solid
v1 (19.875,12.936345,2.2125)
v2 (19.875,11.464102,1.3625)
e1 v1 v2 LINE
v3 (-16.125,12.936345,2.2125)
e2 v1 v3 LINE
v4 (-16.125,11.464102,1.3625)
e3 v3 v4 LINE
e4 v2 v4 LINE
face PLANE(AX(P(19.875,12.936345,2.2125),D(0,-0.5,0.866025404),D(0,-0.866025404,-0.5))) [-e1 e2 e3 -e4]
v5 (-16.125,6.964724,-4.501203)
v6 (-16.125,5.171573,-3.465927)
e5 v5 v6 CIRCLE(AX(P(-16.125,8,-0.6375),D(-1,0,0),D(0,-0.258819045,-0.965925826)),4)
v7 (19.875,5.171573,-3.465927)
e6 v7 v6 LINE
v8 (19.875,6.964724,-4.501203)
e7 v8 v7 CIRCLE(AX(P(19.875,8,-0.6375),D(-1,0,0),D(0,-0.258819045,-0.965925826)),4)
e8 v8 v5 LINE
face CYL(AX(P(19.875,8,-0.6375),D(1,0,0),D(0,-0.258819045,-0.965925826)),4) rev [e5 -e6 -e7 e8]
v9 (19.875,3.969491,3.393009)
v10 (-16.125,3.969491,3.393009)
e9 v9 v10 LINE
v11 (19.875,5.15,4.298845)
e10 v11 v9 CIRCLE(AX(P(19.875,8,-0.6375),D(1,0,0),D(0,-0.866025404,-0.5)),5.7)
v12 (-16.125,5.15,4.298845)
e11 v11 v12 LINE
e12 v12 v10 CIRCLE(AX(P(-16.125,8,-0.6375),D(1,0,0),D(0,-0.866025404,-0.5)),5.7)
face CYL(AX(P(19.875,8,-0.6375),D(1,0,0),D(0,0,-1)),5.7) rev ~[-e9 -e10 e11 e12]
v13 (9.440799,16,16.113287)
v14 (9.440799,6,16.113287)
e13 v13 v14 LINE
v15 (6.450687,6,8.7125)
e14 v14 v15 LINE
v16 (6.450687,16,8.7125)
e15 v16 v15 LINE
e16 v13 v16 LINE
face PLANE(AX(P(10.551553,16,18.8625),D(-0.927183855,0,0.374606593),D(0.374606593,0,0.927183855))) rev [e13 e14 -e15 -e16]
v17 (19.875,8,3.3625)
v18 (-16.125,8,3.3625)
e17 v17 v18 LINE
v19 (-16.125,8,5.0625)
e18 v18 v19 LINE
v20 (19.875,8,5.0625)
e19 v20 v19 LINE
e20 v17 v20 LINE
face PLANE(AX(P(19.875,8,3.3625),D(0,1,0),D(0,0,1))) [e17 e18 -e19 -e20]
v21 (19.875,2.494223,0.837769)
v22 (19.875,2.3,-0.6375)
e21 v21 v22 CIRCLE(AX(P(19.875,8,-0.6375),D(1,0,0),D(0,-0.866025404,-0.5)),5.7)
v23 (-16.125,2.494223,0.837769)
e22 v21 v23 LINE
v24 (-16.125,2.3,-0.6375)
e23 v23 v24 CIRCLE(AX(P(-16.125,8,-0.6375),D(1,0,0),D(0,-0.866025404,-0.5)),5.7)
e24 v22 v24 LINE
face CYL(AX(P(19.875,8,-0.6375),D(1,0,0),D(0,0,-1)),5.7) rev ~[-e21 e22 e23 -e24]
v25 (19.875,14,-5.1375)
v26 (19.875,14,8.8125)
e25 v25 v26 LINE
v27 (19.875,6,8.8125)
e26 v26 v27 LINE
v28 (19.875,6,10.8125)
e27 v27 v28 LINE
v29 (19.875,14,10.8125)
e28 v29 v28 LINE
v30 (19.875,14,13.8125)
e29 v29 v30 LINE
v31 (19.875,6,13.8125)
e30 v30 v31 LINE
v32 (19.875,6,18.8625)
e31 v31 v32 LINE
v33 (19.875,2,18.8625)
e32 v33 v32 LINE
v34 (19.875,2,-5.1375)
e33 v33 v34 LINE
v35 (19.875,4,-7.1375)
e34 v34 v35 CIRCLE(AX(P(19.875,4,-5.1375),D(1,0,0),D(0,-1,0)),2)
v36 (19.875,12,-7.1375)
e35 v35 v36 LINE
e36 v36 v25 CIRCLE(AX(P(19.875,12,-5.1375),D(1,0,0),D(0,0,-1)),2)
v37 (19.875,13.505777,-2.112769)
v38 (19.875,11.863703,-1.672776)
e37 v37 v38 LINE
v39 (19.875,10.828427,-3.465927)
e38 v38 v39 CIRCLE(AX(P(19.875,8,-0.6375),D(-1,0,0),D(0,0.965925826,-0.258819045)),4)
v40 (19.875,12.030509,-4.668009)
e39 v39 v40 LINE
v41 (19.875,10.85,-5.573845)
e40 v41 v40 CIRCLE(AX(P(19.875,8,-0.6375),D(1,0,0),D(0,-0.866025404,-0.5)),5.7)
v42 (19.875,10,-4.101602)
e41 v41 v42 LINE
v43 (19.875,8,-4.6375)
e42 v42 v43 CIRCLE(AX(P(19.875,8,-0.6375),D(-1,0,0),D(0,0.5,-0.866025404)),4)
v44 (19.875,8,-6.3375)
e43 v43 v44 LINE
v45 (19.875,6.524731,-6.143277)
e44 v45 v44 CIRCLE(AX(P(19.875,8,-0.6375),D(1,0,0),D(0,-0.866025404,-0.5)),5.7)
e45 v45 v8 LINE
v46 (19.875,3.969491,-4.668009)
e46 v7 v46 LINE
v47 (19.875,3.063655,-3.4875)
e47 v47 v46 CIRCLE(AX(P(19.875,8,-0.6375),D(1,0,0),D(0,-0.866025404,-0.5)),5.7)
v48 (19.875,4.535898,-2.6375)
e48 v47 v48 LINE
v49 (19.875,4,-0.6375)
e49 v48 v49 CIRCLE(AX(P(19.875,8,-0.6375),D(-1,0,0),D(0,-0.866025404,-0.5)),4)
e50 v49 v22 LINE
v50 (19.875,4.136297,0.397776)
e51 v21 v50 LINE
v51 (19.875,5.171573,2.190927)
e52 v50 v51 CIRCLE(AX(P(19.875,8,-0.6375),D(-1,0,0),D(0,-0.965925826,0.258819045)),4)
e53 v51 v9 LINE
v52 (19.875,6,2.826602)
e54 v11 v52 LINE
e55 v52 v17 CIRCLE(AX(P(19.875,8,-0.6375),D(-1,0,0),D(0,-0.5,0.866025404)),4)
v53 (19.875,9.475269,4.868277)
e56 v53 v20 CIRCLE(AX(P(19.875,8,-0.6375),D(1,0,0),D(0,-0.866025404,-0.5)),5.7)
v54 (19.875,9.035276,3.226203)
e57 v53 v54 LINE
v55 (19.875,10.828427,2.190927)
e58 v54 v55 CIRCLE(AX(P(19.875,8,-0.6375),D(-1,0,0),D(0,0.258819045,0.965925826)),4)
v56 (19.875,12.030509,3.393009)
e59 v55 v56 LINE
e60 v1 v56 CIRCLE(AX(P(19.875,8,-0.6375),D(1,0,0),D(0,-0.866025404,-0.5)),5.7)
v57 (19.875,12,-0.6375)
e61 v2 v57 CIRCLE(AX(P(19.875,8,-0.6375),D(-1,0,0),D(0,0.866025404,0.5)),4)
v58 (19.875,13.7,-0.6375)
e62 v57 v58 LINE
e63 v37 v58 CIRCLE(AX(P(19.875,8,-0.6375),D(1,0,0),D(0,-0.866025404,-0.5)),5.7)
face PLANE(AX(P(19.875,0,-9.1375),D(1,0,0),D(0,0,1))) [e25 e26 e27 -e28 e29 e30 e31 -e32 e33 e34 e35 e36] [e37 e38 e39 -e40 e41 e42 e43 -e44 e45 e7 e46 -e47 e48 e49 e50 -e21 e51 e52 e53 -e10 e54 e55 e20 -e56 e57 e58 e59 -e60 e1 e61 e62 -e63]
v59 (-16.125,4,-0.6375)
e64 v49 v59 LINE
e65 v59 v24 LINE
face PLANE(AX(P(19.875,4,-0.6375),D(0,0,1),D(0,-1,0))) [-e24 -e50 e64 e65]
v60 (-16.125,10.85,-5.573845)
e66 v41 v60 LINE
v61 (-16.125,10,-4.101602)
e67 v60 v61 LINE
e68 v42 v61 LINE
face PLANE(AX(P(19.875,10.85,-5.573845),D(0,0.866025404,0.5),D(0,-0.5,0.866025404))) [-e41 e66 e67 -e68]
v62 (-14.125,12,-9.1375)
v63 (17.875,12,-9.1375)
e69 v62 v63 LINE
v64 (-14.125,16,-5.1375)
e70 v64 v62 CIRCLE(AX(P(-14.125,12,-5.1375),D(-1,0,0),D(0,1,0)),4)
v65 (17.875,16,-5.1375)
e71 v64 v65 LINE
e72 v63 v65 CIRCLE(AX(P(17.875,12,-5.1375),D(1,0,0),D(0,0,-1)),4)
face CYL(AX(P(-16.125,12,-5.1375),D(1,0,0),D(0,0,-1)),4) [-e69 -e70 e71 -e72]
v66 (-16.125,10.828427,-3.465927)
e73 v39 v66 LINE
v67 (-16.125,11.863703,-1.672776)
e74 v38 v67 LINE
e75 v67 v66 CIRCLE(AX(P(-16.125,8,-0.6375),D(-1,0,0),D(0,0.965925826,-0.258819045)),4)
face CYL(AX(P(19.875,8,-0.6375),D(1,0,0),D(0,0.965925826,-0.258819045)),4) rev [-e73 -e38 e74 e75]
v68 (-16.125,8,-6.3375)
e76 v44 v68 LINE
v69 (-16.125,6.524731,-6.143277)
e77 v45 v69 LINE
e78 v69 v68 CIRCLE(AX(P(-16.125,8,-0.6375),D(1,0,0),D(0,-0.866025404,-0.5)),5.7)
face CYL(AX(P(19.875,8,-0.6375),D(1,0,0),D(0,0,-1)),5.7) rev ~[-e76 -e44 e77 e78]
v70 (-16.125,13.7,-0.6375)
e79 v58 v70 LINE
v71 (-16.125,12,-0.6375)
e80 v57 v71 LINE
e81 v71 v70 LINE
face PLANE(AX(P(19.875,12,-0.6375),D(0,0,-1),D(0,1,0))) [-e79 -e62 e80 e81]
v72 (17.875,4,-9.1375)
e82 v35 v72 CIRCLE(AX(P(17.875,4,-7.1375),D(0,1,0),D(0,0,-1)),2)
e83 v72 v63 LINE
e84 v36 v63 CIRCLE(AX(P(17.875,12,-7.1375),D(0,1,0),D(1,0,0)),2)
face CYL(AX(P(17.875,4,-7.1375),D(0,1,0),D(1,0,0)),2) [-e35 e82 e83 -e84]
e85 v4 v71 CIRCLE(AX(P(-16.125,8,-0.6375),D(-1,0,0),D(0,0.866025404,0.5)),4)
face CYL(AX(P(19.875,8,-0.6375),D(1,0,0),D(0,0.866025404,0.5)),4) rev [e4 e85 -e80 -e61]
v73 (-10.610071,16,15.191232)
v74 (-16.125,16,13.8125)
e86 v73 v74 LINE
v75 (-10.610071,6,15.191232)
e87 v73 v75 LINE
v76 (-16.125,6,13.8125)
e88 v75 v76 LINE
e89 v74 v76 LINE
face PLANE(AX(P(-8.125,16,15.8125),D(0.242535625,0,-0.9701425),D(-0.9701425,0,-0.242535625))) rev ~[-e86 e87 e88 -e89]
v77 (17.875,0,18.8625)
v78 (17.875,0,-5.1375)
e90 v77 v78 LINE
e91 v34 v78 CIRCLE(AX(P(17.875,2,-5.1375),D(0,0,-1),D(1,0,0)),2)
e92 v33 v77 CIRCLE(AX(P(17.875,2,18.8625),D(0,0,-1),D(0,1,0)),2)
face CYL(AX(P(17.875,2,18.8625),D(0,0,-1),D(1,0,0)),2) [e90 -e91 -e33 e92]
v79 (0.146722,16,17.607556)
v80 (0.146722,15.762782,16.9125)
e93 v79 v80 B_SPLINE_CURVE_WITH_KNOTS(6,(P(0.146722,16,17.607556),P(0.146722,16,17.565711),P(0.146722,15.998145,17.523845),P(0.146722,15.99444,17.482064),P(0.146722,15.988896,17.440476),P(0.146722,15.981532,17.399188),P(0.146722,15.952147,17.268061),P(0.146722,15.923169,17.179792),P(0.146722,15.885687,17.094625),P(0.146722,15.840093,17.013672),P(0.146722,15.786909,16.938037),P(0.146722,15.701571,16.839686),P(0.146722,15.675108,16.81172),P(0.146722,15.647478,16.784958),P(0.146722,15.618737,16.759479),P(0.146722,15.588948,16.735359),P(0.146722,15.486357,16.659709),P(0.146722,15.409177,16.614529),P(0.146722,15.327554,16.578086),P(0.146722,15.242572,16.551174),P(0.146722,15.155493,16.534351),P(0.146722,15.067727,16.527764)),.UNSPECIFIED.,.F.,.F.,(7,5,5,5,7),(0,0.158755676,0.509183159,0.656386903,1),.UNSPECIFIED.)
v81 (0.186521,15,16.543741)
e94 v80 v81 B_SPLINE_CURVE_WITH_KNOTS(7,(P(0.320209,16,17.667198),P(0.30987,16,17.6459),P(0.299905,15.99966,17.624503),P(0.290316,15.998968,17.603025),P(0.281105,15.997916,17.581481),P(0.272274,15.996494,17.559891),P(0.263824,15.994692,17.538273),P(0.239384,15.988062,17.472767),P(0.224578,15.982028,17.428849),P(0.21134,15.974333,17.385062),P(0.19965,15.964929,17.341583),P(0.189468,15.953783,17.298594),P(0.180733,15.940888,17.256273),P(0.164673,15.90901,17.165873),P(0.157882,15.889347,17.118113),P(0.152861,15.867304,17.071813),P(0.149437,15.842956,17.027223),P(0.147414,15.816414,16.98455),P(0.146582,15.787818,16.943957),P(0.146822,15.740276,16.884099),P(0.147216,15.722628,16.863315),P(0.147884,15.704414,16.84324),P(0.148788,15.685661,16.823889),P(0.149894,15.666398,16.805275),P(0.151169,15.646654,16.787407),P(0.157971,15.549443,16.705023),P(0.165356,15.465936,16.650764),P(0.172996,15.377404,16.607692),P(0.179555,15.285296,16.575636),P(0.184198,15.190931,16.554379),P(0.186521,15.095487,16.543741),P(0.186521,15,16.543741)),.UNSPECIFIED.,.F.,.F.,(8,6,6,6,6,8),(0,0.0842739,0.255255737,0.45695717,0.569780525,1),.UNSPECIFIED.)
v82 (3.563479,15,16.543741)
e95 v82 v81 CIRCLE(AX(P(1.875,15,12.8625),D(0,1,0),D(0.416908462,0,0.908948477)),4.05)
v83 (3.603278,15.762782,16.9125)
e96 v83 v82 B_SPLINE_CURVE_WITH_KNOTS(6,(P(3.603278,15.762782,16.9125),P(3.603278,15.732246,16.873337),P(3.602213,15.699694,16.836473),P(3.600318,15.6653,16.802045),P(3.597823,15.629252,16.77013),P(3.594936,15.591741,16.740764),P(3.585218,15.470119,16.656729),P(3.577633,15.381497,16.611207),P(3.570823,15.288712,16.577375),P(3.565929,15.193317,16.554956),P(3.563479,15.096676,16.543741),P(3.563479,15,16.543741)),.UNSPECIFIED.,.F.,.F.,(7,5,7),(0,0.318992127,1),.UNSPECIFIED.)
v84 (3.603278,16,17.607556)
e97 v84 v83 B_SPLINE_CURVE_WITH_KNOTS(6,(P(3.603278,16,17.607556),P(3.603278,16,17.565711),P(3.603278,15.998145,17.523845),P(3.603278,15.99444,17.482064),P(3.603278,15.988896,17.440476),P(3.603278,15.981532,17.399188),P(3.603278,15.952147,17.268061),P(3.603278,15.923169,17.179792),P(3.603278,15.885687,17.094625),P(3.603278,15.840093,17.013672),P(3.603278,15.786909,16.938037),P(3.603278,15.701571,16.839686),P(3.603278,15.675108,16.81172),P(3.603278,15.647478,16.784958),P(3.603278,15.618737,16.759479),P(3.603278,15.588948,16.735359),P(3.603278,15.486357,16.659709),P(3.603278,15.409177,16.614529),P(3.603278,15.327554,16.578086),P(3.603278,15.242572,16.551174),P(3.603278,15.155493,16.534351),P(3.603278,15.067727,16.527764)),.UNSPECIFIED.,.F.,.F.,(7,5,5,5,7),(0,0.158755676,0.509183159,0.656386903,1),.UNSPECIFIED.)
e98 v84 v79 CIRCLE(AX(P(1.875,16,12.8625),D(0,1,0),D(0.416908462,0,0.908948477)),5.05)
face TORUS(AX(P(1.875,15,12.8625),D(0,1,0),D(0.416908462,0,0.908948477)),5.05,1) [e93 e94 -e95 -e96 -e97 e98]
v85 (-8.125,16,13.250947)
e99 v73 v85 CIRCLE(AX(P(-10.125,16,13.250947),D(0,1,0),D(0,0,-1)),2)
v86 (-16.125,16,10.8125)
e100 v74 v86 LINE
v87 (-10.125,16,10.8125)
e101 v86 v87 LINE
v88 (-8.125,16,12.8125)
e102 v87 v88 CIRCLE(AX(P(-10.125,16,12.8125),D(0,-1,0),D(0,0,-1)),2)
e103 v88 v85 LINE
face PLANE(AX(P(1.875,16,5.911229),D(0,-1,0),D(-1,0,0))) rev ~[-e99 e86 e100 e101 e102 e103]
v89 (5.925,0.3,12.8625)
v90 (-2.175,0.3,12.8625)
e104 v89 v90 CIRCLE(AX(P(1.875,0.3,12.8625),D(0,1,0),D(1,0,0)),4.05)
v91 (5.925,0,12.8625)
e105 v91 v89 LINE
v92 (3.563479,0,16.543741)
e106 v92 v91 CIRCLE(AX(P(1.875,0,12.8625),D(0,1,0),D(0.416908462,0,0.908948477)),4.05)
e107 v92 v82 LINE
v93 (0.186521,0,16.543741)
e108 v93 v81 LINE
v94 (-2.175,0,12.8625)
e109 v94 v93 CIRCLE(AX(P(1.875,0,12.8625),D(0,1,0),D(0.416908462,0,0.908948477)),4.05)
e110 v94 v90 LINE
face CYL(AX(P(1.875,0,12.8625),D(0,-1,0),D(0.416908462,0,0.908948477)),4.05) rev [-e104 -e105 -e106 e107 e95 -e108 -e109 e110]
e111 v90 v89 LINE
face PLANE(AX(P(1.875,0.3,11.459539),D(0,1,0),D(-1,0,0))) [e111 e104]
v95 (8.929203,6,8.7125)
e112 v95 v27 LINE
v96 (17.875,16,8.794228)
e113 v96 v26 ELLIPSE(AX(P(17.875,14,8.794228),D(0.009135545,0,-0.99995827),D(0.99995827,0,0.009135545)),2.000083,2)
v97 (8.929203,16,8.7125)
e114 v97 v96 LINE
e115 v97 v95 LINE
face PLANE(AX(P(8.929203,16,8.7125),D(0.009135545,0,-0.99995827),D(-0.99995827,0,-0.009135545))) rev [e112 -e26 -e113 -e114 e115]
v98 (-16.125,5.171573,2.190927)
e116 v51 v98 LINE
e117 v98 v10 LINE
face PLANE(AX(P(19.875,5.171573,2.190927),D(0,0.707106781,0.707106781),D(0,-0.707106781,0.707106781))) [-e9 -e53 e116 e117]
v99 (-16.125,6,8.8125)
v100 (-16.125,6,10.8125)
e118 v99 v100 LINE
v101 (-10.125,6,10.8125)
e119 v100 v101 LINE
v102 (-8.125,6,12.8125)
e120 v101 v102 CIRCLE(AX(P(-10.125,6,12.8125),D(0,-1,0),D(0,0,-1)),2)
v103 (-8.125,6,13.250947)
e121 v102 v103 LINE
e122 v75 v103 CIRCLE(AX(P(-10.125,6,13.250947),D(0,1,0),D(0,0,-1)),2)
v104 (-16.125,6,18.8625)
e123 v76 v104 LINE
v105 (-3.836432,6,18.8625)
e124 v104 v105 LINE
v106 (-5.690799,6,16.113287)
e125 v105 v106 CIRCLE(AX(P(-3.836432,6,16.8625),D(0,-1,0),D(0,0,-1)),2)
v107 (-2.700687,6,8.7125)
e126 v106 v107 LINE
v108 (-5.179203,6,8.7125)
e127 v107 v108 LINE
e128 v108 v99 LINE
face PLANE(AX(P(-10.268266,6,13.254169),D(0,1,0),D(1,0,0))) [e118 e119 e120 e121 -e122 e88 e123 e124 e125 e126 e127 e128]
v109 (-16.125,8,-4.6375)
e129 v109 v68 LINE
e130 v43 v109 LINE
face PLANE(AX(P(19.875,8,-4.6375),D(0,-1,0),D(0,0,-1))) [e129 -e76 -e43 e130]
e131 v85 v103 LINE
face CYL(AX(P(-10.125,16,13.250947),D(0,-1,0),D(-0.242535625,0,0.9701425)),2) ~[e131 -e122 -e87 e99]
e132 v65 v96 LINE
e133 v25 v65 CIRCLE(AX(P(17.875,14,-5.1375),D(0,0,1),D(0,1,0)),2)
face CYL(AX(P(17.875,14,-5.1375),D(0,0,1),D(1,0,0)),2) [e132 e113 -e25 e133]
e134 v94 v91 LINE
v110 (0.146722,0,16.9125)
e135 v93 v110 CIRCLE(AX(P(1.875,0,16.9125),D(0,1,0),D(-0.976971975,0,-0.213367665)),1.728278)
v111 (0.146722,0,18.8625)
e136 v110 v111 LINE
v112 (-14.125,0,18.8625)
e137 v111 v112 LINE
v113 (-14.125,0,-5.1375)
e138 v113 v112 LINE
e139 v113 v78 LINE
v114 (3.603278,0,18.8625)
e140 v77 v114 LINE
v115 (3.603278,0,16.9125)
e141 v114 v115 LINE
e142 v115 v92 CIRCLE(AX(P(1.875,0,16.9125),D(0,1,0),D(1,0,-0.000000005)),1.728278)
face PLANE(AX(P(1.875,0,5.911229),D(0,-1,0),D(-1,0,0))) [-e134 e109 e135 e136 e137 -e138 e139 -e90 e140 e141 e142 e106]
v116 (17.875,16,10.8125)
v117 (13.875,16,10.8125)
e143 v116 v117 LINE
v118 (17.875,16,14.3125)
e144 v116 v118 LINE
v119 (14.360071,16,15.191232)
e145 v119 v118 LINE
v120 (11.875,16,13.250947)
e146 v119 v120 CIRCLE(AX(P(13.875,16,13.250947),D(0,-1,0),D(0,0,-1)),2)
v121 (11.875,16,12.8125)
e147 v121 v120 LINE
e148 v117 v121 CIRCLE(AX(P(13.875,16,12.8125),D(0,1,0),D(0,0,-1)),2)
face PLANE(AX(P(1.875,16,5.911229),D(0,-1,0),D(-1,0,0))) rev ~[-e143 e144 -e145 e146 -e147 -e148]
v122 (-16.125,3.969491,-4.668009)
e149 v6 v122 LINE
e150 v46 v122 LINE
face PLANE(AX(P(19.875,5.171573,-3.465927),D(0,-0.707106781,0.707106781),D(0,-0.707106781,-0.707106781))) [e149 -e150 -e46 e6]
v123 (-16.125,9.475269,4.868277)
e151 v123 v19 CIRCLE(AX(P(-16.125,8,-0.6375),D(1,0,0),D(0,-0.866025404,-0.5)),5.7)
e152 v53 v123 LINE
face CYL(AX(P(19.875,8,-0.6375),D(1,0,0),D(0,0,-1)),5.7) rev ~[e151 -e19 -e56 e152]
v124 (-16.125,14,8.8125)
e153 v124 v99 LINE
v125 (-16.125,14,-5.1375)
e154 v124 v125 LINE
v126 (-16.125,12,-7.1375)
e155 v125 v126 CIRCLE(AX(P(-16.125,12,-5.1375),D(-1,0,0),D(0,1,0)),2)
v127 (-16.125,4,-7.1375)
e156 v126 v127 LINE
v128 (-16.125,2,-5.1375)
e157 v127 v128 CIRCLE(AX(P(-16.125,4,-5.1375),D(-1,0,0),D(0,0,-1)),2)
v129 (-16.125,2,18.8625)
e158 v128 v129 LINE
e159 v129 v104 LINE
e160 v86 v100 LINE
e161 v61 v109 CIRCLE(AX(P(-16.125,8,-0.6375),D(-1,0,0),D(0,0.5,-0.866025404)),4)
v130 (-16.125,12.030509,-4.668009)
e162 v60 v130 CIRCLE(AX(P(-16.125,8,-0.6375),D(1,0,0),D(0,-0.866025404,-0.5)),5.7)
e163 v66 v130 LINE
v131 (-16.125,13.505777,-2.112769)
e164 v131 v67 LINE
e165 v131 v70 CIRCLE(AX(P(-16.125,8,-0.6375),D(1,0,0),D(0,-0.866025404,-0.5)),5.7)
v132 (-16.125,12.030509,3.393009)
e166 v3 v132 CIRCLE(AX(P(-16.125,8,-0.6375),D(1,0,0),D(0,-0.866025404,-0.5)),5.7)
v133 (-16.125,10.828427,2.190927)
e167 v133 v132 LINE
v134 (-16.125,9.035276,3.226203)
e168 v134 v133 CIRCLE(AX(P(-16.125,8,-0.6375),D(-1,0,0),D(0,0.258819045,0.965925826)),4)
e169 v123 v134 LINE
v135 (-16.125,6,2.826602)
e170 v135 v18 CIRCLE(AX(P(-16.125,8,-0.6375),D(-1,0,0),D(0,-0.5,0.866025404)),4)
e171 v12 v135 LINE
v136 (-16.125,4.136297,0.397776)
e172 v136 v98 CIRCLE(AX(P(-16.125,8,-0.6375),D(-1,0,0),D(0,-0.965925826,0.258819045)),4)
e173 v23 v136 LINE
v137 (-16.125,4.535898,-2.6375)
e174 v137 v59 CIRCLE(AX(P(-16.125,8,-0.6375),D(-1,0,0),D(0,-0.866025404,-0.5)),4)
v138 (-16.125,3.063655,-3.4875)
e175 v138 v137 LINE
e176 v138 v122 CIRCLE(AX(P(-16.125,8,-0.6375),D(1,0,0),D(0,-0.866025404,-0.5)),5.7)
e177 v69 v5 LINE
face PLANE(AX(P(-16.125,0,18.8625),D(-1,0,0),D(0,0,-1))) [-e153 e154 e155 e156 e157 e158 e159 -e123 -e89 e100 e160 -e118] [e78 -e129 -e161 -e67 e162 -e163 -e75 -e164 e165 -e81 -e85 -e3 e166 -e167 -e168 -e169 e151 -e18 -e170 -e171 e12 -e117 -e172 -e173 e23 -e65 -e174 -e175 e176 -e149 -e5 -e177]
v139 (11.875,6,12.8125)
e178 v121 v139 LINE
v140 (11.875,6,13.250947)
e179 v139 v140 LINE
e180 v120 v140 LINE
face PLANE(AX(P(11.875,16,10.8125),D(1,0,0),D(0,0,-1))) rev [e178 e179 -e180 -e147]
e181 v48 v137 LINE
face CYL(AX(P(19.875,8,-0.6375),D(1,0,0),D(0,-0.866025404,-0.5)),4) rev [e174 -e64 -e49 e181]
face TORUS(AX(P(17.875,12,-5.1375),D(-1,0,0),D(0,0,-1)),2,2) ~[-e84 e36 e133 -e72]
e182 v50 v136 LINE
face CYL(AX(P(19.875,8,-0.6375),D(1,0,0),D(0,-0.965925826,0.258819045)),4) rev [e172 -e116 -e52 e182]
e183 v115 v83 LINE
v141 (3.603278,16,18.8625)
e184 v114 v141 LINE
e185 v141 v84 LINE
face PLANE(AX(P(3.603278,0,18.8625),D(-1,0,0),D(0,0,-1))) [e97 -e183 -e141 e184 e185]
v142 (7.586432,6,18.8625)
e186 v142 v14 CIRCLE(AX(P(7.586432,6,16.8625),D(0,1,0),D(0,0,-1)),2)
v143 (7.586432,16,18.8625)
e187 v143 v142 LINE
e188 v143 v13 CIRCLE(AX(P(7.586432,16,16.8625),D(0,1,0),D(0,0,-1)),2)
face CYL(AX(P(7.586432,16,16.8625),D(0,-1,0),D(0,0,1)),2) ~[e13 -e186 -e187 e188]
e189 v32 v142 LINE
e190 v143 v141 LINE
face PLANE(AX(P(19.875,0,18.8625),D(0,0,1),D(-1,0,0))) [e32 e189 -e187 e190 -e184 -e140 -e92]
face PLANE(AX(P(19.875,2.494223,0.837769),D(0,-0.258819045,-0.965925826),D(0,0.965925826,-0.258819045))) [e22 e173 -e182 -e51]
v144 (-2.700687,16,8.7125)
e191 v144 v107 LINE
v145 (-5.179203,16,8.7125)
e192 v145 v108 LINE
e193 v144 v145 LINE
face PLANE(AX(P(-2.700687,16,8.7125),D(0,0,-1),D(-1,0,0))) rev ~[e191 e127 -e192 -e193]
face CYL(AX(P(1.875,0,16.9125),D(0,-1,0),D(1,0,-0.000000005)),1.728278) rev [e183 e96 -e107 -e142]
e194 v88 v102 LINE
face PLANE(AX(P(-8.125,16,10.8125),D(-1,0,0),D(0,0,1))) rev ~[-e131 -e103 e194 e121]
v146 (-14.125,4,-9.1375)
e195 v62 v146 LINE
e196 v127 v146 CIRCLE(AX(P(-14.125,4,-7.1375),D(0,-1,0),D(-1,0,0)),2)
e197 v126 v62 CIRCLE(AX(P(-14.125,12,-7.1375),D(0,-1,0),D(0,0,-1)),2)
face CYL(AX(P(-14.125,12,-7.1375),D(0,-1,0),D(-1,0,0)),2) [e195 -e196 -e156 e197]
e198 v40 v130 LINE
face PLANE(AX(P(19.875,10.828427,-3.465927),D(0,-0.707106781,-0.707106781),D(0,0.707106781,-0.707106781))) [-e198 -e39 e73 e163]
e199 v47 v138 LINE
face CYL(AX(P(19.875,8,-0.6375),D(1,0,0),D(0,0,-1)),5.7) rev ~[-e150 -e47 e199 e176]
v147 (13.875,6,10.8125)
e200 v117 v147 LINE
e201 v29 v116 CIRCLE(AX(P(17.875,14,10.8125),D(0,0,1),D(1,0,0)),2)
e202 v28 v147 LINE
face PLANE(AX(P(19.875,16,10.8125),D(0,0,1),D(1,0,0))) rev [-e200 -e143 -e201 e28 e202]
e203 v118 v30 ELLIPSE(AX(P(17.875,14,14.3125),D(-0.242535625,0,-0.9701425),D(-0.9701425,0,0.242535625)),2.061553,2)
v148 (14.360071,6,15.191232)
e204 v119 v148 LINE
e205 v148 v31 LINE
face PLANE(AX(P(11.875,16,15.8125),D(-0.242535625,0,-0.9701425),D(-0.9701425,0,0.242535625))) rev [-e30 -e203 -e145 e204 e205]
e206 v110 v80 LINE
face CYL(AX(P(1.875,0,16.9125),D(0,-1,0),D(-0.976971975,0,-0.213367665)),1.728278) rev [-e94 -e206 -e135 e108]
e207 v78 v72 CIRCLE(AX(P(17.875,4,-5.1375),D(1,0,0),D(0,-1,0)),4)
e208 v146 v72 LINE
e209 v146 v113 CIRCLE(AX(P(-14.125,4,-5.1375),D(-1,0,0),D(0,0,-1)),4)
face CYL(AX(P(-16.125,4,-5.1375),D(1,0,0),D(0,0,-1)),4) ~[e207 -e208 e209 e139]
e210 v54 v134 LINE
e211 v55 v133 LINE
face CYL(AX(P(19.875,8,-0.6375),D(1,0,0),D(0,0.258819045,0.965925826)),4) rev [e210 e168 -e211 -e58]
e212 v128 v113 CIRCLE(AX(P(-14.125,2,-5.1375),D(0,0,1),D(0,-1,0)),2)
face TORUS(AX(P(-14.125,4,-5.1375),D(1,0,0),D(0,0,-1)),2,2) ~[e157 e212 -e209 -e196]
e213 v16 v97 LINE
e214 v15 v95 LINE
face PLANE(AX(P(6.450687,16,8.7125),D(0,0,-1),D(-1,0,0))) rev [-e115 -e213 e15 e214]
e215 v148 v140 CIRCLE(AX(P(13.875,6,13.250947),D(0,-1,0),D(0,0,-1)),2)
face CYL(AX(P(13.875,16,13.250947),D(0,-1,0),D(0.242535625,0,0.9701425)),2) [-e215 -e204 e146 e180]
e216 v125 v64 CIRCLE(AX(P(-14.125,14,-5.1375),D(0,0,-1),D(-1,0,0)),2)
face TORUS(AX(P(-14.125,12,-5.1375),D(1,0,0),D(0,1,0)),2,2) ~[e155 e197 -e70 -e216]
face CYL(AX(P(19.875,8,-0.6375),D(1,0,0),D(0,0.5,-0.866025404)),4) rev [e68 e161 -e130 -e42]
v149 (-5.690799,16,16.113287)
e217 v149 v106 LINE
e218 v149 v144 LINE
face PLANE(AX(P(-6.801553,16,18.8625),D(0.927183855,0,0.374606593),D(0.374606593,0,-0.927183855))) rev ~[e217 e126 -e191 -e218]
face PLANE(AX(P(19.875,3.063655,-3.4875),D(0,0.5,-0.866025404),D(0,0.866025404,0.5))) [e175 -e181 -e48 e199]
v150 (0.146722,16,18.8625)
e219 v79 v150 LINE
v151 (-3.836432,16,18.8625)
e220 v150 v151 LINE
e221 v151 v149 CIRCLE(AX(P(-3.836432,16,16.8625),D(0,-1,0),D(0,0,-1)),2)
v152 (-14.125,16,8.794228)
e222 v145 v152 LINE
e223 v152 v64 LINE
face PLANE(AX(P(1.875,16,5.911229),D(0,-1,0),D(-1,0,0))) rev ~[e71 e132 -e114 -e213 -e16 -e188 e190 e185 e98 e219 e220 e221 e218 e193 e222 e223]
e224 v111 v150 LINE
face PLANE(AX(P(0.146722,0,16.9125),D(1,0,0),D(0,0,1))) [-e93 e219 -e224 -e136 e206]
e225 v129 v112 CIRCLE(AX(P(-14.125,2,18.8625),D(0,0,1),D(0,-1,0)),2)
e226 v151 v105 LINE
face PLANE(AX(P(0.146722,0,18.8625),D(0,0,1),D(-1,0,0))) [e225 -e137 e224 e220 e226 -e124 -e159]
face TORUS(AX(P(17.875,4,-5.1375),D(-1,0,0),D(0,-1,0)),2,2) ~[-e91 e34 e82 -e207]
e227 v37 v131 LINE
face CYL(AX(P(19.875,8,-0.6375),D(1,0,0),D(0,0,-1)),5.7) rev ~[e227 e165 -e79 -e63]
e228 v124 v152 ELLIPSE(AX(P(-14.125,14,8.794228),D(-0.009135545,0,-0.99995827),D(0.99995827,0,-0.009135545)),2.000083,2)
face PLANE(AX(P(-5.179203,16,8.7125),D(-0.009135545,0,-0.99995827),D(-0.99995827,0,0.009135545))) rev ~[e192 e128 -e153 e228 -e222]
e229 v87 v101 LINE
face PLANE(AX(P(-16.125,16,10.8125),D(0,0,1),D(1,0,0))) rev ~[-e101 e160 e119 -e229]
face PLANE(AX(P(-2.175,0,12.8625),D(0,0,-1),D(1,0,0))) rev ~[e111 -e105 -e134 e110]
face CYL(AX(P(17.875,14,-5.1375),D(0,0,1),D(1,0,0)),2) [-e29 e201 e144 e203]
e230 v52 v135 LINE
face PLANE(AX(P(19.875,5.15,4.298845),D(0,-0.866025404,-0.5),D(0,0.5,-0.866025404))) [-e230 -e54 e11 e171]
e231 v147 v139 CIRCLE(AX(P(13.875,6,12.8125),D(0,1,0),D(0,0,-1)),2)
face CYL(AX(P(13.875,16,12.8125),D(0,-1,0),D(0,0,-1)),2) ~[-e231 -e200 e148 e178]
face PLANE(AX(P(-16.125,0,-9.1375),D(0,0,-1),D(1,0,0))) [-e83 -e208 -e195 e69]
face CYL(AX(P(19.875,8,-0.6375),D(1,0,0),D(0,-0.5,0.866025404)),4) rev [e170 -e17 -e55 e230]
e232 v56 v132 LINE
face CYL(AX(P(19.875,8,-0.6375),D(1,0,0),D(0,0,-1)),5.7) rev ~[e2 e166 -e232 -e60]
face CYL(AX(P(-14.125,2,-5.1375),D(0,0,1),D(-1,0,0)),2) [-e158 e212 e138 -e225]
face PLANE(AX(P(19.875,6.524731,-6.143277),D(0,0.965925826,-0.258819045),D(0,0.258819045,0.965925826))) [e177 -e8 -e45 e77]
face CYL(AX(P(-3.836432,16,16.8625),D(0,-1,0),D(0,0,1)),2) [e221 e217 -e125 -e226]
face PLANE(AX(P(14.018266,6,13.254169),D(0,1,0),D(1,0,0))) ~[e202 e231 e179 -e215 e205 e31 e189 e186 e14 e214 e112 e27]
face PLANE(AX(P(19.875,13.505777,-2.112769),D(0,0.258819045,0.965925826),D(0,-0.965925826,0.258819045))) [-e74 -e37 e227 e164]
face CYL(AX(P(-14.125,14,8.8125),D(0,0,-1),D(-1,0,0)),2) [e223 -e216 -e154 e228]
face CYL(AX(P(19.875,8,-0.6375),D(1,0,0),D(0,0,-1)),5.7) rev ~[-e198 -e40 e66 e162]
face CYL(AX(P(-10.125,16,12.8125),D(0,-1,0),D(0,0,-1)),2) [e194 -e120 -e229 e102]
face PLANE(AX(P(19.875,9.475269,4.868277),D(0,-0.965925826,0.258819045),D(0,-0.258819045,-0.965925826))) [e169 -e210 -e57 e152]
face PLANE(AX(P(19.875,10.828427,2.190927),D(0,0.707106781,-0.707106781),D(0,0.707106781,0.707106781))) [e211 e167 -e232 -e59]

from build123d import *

# Parameters (mm, degrees)
SALIENTE_EXTRUIR1_DEPTH = 16
CROQUIS5_R              = 5.7
CORTAR_EXTRUIR1_DEPTH   = 38
SALIENTE_EXTRUIR2_DEPTH = 0.3
CORTAR_EXTRUIR2_DEPTH   = 10
REDONDEO1_R             = 4
REDONDEO2_R             = 2
REDONDEO3_R             = 1
FILETE1_R               = 2
SALIENTE_EXTRUIR3_START = -36
SALIENTE_EXTRUIR3_DEPTH = 36
PADR_OCIRCULAR1_COUNT   = 8
FILETE2_R               = 2
FILETE3_R               = 2


with BuildPart() as part:
    # Croquis1 → Saliente-Extruir1 (new body)
    with BuildSketch(Plane(origin=(0, 0, 0), x_dir=(1, 0, 0), z_dir=(0, 1, 0))):
        with BuildLine():
            Line((-16.125, 9.1375), (19.875, 9.1375))
            Line((19.875, 9.1375), (19.875, -18.8625))
            Line((19.875, -18.8625), (3.603278106, -18.8625))
            Line((3.603278106, -18.8625), (3.603278106, -16.9125))
            ThreePointArc((3.603278106, -16.9125), (3.593299591, -16.727049938), (3.563479273, -16.543741332))
            ThreePointArc((3.563479273, -16.543741332), (1.875, -8.8125), (0.186520727, -16.543741332))
            ThreePointArc((0.186520727, -16.543741332), (0.156700409, -16.727049938), (0.146721894, -16.9125))
            Line((0.146721894, -16.9125), (0.146721894, -18.8625))
            Line((0.146721894, -18.8625), (-16.125, -18.8625))
            Line((-16.125, -18.8625), (-16.125, 9.1375))
        make_face()
    extrude(amount=SALIENTE_EXTRUIR1_DEPTH)

    # Croquis5 → Cortar-Extruir1 (cut)
    with BuildSketch(Plane(origin=(19.875, 0, 0), x_dir=(0, 0, -1), z_dir=(1, 0, 0))):
        with Locations((0.6375, 8)):
            Circle(CROQUIS5_R)
    extrude(amount=-CORTAR_EXTRUIR1_DEPTH, mode=Mode.SUBTRACT)

    # Croquis8 → Saliente-Extruir2 (add)
    with BuildSketch(Plane.XZ):
        with BuildLine():
            Line((-2.175, 12.8625), (5.925, 12.8625))
            ThreePointArc((5.925, 12.8625), (1.875, 8.8125), (-2.175, 12.8625))
        make_face()
    extrude(amount=-SALIENTE_EXTRUIR2_DEPTH)

    # Croquis9 → Cortar-Extruir2 (cut)
    with BuildSketch(Plane(origin=(0, 16, 0), x_dir=(1, 0, 0), z_dir=(0, 1, 0))):
        Polygon((-8.125, -10.8125), (-8.125, -15.8125), (-16.125, -13.8125), (-16.125, -18.8625), (-6.801553451, -18.8625), (-2.700687259, -8.7125), (-5.179202857, -8.7125), (-16.125, -8.8125), (-16.125, -10.8125), align=None)
    cortar_extruir2 = extrude(amount=-CORTAR_EXTRUIR2_DEPTH, mode=Mode.SUBTRACT)

    # Redondeo1
    redondeo1_edges = [part.edges().sort_by_distance(p)[0] for p in [
        (1.875, 16, -9.1375),
        (1.875, 0, -9.1375),
    ]]
    fillet(redondeo1_edges, radius=REDONDEO1_R)

    # Redondeo2
    redondeo2_edges = [part.edges().sort_by_distance(p)[0] for p in [
        (-16.125, 16, 1.8375),
        (-16.125, 14.828427125, -7.965927125),
        (-16.125, 8, -9.1375),
        (-16.125, 1.171572875, -7.965927125),
        (19.875, 0, 6.8625),
        (19.875, 16, 6.8625),
        (-16.125, 0, 6.8625),
        (19.875, 1.171572875, -7.965927125),
        (19.875, 8, -9.1375),
        (19.875, 14.828427125, -7.965927125),
    ]]
    fillet(redondeo2_edges, radius=REDONDEO2_R)

    # Redondeo3
    redondeo3_edges = [part.edges().sort_by_distance(p)[0] for p in [
        (1.875, 16, 8.8125),
    ]]
    fillet(redondeo3_edges, radius=REDONDEO3_R)

    # Filete1
    filete1_edges = [part.edges().sort_by_distance(p)[0] for p in [
        (-8.125, 11, 15.8125),
        (-8.125, 11, 10.8125),
    ]]
    fillet(filete1_edges, radius=FILETE1_R)

    # Croquis10 → Saliente-Extruir3 (add)
    with BuildSketch(Plane.ZY.offset(16.125).offset(SALIENTE_EXTRUIR3_START)):
        with BuildLine():
            Line((-0.6375, 4), (-0.6375, 2.3))
            ThreePointArc((-0.6375, 2.3), (-2.112768557, 2.49422279), (-3.4875, 3.063655198))
            Line((-3.4875, 3.063655198), (-2.6375, 4.535898385))
            ThreePointArc((-2.6375, 4.535898385), (-1.67277618, 4.136296695), (-0.6375, 4))
        make_face()
    saliente_extruir3 = extrude(amount=SALIENTE_EXTRUIR3_DEPTH)

    # PadrãoCircular1: Saliente-Extruir3 ×8 about axis
    padr_ocircular1_axis = Axis((-16.125, 8, -0.6375), (1, 0, 0))
    for i in range(1, PADR_OCIRCULAR1_COUNT):
        add(saliente_extruir3.rotate(padr_ocircular1_axis, i * 360 / PADR_OCIRCULAR1_COUNT))

    # Filete2
    filete2_edges = [part.edges().sort_by_distance(p)[0] for p in [
        (-6.801553451, 11, 18.8625),
    ]]
    fillet(filete2_edges, radius=FILETE2_R)

    # Espelhar3: Cortar-Extruir2 across plane
    add(cortar_extruir2.mirror(Plane.ZY.offset(-1.875)), mode=Mode.SUBTRACT)

    # Filete3
    filete3_edges = [part.edges().sort_by_distance(p)[0] for p in [
        (10.551553451, 11, 18.8625),
        (11.875, 11, 15.8125),
        (11.875, 11, 10.8125),
    ]]
    fillet(filete3_edges, radius=FILETE3_R)


solid = part.part
